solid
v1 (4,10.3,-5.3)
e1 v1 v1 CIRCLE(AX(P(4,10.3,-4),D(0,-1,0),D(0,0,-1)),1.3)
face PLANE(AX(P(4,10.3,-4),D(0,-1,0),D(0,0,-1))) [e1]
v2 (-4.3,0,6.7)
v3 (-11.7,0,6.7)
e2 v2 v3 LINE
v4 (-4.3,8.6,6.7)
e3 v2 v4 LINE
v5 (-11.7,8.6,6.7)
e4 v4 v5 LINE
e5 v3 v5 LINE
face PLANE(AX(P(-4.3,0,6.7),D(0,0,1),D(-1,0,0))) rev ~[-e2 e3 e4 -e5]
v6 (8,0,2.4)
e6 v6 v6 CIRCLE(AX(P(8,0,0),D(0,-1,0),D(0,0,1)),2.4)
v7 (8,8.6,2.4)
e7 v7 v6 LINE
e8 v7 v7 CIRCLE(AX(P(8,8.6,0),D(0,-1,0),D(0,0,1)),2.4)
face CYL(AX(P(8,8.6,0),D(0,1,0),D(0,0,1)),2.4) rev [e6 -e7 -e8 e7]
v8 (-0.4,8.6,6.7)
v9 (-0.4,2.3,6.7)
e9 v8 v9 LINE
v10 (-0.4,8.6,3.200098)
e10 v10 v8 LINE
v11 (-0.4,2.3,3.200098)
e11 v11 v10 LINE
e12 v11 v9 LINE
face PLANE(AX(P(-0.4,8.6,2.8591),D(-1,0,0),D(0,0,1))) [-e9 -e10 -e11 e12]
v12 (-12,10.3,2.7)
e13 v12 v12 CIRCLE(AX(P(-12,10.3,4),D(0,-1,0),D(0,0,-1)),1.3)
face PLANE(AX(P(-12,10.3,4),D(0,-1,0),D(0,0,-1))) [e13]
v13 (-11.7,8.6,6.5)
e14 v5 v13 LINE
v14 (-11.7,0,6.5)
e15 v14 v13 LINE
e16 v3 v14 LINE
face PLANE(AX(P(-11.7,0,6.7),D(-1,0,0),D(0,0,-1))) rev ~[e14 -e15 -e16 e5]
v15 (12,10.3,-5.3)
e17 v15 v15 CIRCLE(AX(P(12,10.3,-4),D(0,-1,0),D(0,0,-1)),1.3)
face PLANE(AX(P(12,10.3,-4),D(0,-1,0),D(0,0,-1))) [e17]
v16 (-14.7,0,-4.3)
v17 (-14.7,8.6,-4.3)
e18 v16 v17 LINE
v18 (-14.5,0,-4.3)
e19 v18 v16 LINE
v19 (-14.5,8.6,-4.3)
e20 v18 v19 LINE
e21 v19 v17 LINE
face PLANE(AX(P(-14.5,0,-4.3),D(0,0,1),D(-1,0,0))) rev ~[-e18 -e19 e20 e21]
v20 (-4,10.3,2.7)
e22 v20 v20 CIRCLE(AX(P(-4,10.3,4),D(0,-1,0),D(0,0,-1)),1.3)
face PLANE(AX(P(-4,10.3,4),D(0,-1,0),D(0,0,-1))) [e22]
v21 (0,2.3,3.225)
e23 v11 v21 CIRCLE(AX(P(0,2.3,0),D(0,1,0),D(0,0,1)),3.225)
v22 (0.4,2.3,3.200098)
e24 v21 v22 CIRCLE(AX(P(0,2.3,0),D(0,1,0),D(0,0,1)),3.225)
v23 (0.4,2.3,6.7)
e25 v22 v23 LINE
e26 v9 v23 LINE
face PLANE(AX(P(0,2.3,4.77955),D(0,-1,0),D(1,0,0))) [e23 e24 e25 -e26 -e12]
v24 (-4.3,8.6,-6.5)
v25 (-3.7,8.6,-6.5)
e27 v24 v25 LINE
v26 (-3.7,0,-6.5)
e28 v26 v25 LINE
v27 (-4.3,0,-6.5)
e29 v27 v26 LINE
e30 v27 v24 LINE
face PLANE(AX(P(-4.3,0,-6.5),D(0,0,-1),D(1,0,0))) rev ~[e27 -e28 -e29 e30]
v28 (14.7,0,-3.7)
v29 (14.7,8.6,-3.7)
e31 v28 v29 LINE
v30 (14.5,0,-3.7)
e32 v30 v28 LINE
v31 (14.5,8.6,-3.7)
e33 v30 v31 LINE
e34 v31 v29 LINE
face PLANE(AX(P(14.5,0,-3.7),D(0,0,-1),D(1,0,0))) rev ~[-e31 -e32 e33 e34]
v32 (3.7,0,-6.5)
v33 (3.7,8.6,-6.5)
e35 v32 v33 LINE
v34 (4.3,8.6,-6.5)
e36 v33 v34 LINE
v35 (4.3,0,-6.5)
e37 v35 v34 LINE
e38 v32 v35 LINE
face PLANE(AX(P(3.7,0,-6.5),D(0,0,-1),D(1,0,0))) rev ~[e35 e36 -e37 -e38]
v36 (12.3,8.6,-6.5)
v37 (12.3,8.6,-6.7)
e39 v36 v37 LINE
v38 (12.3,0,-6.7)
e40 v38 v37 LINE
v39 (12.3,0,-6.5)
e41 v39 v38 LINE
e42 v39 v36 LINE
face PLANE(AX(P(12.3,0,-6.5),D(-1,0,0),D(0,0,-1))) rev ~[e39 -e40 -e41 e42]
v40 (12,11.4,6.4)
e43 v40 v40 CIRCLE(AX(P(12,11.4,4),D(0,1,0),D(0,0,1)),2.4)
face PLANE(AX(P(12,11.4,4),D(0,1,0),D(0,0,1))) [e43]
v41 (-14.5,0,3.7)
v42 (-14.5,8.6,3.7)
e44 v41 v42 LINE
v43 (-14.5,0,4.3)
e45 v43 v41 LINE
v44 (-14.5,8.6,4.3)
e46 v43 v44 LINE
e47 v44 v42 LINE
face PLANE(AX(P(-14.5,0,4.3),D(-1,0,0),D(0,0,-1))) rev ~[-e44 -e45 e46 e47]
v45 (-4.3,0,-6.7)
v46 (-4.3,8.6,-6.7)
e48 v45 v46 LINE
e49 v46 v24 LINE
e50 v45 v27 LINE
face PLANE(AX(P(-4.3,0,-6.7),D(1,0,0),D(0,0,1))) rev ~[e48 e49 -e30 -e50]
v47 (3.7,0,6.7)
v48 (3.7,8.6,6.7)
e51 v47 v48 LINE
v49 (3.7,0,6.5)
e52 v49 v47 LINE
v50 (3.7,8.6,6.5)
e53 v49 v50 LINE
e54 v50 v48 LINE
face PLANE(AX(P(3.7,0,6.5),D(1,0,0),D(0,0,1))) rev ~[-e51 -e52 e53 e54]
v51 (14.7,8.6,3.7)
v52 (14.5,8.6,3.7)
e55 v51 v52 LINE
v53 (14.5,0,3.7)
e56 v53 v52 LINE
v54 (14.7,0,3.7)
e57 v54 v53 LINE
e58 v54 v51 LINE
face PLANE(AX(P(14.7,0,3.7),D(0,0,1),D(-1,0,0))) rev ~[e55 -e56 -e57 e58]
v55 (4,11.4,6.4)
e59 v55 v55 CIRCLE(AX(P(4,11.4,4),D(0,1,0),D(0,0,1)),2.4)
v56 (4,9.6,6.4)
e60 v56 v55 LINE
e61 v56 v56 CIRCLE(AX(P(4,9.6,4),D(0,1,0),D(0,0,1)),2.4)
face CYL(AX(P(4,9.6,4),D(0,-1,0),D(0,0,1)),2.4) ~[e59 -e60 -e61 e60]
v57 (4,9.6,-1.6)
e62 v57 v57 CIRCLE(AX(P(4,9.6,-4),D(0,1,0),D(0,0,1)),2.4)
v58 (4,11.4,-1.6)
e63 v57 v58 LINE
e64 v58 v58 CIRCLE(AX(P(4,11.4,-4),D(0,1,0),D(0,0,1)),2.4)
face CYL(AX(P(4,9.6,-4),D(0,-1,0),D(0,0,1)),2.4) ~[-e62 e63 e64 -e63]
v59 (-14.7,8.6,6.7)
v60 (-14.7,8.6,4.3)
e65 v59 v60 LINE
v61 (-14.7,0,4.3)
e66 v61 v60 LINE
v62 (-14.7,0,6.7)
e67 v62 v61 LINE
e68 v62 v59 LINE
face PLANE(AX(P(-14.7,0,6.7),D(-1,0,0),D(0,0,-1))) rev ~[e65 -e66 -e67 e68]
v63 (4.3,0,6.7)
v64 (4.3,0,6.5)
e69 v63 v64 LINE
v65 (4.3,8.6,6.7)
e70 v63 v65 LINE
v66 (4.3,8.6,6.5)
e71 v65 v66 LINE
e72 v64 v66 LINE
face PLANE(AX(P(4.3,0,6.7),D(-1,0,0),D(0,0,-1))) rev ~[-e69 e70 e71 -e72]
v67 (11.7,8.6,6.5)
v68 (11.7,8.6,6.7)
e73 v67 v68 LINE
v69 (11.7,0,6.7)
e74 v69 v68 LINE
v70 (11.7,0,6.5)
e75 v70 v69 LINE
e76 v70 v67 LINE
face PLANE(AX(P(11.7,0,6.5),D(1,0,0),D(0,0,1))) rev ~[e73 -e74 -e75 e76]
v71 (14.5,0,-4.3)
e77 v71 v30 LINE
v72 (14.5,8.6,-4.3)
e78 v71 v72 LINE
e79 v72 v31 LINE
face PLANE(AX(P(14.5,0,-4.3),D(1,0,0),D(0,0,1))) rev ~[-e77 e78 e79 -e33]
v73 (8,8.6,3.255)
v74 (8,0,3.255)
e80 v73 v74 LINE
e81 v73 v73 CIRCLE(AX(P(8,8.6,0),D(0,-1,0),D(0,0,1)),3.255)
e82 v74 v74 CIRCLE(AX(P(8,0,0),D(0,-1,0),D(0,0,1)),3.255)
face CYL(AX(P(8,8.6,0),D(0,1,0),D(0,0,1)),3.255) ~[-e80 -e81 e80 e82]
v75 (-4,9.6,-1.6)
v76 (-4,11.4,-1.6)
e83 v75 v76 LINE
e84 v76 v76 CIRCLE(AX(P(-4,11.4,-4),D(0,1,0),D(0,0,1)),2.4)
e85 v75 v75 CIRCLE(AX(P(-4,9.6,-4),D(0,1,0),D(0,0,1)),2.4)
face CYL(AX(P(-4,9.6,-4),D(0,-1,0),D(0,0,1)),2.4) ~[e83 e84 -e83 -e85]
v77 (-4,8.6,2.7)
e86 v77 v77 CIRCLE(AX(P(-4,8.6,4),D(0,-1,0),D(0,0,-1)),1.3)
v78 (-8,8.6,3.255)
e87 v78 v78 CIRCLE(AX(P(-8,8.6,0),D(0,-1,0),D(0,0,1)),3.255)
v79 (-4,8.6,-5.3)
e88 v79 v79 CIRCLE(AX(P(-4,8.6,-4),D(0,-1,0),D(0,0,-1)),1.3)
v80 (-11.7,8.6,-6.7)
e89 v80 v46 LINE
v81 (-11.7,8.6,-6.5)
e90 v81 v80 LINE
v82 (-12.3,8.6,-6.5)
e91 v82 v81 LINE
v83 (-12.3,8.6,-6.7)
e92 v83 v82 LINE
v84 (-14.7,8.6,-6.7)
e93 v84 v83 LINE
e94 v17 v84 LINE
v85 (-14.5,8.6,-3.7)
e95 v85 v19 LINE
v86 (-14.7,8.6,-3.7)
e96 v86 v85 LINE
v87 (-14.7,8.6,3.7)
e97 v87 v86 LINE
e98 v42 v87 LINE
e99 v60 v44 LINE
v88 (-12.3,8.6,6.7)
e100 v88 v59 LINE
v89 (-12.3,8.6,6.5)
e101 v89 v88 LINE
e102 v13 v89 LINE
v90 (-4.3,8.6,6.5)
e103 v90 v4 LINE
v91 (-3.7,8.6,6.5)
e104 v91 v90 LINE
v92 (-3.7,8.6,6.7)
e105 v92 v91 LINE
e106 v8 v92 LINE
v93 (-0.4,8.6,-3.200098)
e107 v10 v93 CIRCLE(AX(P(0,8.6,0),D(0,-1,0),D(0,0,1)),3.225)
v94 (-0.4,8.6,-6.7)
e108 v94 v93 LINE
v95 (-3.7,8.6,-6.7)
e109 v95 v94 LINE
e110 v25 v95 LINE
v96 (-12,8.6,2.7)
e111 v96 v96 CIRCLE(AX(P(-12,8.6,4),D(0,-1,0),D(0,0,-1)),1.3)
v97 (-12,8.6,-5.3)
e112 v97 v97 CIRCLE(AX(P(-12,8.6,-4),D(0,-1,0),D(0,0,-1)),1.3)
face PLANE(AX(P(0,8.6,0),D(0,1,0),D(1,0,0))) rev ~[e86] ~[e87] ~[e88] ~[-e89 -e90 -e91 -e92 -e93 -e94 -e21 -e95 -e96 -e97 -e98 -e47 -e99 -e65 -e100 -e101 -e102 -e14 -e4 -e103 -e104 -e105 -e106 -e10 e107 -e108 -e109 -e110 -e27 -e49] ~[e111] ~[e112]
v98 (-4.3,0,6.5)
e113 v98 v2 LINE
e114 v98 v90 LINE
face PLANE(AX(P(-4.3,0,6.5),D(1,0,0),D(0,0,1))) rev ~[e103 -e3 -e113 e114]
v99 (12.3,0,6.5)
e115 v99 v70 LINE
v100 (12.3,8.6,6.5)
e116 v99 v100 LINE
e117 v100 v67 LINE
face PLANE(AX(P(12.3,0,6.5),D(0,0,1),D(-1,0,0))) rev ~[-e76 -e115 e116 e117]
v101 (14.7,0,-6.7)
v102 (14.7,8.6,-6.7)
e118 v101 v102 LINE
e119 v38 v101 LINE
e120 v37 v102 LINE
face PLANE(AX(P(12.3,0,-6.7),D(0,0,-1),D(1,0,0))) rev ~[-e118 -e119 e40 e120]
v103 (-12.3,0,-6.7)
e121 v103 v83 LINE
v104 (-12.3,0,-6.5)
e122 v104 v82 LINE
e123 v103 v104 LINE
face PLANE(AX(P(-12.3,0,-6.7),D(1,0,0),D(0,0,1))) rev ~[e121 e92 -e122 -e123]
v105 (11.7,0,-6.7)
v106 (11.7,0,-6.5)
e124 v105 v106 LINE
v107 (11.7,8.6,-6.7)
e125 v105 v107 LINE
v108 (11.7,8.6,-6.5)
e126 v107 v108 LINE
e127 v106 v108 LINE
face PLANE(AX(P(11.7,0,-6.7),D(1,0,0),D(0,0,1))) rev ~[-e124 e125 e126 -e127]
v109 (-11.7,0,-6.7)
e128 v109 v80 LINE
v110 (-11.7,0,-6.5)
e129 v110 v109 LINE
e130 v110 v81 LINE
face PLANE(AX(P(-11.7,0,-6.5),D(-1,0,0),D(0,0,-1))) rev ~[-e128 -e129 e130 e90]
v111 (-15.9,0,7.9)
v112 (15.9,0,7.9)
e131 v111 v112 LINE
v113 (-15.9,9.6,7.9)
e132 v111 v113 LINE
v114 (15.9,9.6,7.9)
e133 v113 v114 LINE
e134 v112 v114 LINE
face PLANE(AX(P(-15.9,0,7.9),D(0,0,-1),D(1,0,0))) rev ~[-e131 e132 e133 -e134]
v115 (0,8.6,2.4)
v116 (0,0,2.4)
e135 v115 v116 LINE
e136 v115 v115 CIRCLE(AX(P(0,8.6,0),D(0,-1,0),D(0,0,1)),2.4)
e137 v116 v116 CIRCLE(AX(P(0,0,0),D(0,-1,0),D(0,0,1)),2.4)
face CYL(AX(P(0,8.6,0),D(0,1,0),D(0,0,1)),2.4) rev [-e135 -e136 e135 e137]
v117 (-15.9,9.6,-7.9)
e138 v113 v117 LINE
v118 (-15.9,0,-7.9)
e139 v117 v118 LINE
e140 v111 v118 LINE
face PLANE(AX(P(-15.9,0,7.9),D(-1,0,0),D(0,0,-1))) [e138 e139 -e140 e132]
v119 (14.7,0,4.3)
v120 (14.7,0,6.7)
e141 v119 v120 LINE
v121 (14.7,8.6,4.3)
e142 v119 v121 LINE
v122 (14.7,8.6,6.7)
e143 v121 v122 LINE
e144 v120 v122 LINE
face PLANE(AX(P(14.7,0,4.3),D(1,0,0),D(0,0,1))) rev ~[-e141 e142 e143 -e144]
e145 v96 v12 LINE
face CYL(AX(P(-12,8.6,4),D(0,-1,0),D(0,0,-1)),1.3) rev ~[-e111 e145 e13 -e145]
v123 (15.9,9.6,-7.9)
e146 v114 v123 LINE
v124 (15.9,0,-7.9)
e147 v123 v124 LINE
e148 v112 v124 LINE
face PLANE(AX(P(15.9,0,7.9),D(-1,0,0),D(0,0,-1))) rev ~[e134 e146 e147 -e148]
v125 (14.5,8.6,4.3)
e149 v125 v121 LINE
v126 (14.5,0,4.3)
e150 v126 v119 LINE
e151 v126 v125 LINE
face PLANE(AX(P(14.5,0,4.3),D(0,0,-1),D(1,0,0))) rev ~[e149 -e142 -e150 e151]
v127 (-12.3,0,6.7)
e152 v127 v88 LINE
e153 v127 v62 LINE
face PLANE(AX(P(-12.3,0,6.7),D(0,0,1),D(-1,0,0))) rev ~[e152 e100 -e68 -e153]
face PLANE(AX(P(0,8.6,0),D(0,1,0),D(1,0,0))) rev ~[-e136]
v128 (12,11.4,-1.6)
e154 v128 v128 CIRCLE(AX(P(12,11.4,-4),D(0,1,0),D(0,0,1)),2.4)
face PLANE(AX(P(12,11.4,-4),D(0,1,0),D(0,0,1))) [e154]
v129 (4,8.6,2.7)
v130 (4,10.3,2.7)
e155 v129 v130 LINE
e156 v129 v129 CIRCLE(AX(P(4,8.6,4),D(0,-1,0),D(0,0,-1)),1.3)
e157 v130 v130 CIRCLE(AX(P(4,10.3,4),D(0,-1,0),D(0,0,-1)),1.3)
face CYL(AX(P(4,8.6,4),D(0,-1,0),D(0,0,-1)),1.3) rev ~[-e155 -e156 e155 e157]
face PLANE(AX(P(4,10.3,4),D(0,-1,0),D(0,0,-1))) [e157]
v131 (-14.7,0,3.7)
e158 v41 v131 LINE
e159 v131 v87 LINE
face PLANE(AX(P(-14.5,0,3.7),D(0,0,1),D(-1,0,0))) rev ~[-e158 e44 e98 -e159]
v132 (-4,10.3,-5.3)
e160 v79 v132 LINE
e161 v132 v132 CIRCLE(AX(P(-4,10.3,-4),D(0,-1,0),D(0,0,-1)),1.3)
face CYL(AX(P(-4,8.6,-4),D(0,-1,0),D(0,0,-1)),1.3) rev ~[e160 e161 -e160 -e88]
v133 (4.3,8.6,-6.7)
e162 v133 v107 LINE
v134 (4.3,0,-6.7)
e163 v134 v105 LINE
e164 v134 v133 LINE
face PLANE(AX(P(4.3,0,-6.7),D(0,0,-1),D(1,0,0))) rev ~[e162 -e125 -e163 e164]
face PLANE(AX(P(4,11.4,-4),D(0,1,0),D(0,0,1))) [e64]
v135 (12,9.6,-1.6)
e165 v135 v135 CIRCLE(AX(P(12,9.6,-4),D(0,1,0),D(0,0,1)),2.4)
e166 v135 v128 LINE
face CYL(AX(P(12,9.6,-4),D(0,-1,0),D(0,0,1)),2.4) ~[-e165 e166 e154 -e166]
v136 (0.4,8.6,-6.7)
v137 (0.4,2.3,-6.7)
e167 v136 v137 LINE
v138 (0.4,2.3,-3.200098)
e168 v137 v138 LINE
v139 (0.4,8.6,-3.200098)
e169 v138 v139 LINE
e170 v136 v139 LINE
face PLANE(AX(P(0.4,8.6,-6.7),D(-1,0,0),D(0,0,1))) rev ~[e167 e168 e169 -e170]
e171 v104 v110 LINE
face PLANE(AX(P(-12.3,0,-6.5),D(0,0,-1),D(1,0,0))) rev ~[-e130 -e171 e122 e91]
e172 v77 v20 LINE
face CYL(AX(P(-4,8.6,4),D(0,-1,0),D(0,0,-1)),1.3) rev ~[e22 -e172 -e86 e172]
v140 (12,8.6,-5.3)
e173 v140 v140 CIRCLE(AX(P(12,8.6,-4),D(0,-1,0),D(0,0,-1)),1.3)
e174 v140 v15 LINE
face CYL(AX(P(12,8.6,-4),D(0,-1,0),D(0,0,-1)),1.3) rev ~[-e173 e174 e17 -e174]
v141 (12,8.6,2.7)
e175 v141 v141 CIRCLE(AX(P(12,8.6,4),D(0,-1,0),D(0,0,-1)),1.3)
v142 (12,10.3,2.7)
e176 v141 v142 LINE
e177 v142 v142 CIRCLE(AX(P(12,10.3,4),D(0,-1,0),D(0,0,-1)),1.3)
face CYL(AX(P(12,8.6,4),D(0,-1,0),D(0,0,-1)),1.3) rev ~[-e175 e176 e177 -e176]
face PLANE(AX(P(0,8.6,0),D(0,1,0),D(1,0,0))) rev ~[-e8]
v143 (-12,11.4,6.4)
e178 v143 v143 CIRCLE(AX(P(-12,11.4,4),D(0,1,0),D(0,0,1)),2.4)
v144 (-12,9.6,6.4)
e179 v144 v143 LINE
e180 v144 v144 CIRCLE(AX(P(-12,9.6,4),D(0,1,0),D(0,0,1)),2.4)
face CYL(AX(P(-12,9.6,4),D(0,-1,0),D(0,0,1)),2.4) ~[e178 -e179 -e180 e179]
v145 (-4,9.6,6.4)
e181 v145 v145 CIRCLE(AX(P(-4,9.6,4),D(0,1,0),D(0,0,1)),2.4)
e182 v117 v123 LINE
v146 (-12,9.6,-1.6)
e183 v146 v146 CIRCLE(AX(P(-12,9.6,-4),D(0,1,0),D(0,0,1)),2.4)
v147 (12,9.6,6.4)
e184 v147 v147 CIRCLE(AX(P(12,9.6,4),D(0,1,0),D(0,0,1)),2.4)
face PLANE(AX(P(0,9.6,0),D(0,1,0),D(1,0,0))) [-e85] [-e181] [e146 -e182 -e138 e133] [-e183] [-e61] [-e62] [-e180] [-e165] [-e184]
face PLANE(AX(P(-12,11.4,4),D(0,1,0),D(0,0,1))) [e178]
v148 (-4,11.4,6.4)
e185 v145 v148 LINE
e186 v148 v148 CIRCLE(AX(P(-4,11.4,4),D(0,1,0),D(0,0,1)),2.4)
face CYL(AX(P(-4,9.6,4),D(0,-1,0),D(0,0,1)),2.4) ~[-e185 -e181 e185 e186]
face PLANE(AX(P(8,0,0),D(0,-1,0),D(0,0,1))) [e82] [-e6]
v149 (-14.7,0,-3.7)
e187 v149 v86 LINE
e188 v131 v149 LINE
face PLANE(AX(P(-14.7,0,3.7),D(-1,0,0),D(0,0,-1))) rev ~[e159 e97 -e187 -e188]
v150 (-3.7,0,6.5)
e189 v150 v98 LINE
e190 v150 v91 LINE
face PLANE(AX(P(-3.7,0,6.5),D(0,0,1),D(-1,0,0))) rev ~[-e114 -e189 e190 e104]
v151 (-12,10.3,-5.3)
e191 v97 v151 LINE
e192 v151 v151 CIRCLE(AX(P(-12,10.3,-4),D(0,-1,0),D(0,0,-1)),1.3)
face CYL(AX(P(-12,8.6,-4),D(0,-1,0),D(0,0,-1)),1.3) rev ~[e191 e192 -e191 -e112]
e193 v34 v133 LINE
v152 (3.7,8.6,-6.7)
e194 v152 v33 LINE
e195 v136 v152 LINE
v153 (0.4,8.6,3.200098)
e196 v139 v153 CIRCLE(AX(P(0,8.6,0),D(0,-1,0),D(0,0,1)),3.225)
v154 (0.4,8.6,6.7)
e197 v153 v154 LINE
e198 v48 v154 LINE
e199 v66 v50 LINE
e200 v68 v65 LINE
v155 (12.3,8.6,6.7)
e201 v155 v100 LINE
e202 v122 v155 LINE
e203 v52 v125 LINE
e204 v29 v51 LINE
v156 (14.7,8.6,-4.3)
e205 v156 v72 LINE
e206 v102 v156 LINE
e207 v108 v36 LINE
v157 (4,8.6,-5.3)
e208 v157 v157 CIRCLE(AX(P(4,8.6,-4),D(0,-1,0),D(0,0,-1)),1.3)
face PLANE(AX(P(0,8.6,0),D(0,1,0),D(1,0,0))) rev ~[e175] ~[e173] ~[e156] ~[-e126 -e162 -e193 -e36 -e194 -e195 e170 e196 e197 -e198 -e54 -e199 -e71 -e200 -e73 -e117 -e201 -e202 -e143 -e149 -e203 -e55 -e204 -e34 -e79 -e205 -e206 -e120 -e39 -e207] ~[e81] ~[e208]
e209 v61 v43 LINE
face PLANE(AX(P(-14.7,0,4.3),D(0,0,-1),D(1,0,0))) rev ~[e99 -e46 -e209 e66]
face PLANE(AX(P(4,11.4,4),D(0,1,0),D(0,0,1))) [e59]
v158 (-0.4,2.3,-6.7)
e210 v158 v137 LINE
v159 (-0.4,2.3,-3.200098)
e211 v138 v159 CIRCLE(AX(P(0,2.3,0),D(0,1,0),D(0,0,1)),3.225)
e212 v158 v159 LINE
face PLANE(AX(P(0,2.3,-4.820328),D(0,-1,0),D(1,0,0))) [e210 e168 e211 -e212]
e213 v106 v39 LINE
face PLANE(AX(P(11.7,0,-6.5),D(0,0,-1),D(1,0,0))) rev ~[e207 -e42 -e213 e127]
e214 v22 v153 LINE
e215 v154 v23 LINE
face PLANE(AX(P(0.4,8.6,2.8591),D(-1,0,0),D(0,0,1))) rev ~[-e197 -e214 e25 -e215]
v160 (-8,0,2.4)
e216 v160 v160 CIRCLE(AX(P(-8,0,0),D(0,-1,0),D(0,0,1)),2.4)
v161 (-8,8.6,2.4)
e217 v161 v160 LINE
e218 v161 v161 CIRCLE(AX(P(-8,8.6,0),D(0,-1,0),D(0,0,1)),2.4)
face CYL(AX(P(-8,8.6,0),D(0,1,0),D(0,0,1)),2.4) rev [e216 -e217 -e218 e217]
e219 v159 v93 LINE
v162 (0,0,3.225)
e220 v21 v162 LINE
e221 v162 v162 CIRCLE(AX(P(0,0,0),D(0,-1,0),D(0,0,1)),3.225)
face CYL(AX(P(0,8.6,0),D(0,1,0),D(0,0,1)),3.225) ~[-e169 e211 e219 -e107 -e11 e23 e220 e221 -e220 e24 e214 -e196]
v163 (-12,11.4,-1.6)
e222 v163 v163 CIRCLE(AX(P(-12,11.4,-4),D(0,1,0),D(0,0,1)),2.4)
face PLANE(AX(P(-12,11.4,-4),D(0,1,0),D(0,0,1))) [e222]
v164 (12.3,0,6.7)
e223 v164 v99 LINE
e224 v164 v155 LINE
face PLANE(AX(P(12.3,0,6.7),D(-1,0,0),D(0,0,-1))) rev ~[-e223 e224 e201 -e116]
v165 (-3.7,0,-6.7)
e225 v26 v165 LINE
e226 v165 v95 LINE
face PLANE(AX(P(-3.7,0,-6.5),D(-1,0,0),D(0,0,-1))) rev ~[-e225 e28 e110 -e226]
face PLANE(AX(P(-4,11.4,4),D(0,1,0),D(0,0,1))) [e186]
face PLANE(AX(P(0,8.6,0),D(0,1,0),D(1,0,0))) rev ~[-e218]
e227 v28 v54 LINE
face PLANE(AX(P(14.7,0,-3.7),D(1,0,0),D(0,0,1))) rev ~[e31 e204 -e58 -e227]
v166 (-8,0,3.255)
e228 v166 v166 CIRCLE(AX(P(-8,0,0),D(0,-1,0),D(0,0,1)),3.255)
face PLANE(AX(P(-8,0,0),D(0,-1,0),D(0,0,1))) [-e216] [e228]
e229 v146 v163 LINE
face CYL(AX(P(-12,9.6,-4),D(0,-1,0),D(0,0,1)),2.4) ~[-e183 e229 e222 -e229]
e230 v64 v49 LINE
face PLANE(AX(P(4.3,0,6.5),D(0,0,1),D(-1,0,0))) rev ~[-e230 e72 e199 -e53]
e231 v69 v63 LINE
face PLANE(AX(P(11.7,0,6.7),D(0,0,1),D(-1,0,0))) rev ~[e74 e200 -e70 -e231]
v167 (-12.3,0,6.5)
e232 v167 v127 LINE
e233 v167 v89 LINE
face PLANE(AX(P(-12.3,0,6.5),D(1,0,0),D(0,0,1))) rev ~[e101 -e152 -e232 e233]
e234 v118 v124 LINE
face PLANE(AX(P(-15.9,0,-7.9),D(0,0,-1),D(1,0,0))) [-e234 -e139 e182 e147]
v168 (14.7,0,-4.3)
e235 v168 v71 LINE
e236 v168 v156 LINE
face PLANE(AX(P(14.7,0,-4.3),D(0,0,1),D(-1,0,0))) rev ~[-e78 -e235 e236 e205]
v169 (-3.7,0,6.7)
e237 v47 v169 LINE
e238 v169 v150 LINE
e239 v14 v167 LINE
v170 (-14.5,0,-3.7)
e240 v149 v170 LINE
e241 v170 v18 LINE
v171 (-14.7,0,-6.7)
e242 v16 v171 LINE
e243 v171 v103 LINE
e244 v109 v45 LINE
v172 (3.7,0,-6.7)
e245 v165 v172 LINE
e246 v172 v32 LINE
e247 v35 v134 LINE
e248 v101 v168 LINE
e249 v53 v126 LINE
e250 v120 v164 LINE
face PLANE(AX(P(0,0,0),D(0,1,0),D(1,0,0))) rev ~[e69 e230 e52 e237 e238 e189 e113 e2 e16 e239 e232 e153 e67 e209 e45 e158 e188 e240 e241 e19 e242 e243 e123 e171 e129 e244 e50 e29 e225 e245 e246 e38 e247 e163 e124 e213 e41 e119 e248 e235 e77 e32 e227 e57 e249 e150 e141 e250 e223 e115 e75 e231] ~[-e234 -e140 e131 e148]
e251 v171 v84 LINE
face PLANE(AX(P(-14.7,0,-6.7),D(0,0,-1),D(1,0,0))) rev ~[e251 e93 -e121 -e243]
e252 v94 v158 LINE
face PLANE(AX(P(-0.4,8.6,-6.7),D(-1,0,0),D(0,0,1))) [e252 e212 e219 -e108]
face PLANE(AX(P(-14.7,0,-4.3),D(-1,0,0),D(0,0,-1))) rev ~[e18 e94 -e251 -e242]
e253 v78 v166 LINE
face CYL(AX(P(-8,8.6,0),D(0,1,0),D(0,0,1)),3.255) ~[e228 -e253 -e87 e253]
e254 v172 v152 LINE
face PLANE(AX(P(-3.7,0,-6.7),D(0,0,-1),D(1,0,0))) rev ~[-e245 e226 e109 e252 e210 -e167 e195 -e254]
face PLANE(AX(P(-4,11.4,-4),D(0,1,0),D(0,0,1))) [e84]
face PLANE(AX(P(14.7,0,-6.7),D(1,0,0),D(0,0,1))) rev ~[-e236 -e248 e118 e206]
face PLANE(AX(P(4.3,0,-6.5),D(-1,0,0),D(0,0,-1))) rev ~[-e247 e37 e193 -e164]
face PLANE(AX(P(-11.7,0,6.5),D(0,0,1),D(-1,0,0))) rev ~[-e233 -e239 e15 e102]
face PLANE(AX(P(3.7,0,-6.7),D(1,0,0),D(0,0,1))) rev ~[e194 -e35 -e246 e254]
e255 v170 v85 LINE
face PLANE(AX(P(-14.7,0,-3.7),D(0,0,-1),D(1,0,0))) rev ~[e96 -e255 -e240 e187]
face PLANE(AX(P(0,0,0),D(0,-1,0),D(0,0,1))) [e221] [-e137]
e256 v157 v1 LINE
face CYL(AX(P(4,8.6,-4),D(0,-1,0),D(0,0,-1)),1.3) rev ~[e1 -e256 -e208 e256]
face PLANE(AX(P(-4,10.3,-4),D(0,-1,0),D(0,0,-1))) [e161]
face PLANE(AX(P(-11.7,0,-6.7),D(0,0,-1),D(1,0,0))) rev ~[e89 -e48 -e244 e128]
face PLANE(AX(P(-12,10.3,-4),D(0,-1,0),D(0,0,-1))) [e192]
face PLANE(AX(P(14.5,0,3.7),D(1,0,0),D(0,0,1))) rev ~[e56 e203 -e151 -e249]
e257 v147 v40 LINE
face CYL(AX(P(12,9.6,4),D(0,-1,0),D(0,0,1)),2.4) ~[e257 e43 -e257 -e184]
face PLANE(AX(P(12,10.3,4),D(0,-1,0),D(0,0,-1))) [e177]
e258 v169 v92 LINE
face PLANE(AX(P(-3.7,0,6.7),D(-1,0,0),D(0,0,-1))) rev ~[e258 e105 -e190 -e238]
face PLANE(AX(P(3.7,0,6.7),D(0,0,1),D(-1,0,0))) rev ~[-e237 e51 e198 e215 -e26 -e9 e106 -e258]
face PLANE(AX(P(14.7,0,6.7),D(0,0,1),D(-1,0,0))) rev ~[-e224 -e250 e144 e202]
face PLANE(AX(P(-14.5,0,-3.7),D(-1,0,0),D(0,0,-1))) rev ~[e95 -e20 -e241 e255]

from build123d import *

# Parameters (mm, degrees)
SKETCH1_W           = 31.8
SKETCH1_H           = 15.8
BOSS_EXTRUDE1_DEPTH = 9.6
SKETCH3_W           = 31.8
SKETCH3_H           = 15.8
BOSS_EXTRUDE2_DEPTH = 1
SKETCH4_R           = 2.4
BOSS_EXTRUDE3_DEPTH = 1.8
SKETCH5_R           = 1.3
CUT_EXTRUDE1_DEPTH  = 1.7
SKETCH6_R           = 3.255
SKETCH6_R_2         = 2.4
SKETCH6_R_3         = 3.225
BOSS_EXTRUDE4_DEPTH = 8.6
SKETCH7_W           = 0.8
SKETCH7_H           = 3.759344576
SKETCH7_H_2         = 3.840900034
BOSS_EXTRUDE5_DEPTH = 6.3


with BuildPart() as part:
    # Sketch1 → Boss-Extrude1 (new body)
    with BuildSketch(Plane(origin=(0, 0, 0), x_dir=(1, 0, 0), z_dir=(0, 1, 0))):
        Rectangle(SKETCH1_W, SKETCH1_H)
        Polygon((-12.3, -6.7), (-14.7, -6.7), (-14.7, -4.3), (-14.5, -4.3), (-14.5, -3.7), (-14.7, -3.7), (-14.7, 3.7), (-14.5, 3.7), (-14.5, 4.3), (-14.7, 4.3), (-14.7, 6.7), (-12.3, 6.7), (-12.3, 6.5), (-11.7, 6.5), (-11.7, 6.7), (-4.3, 6.7), (-4.3, 6.5), (-3.7, 6.5), (-3.7, 6.7), (3.7, 6.7), (3.7, 6.5), (4.3, 6.5), (4.3, 6.7), (11.7, 6.7), (11.7, 6.5), (12.3, 6.5), (12.3, 6.7), (14.7, 6.7), (14.7, 4.3), (14.5, 4.3), (14.5, 3.7), (14.7, 3.7), (14.7, -3.7), (14.5, -3.7), (14.5, -4.3), (14.7, -4.3), (14.7, -6.7), (12.3, -6.7), (12.3, -6.5), (11.7, -6.5), (11.7, -6.7), (4.3, -6.7), (4.3, -6.5), (3.7, -6.5), (3.7, -6.7), (-3.7, -6.7), (-3.7, -6.5), (-4.3, -6.5), (-4.3, -6.7), (-11.7, -6.7), (-11.7, -6.5), (-12.3, -6.5), align=None, mode=Mode.SUBTRACT)
    extrude(amount=BOSS_EXTRUDE1_DEPTH)

    # Sketch3 → Boss-Extrude2 (add)
    with BuildSketch(Plane(origin=(0, 9.6, 0), x_dir=(1, 0, 0), z_dir=(0, 1, 0))):
        Rectangle(SKETCH3_W, SKETCH3_H)
    extrude(amount=-BOSS_EXTRUDE2_DEPTH)

    # Sketch4 → Boss-Extrude3 (add)
    with BuildSketch(Plane(origin=(0, 9.6, 0), x_dir=(1, 0, 0), z_dir=(0, 1, 0))):
        with Locations(Location((-12, 4, 0), (0, 0, 270))):
            Circle(SKETCH4_R)
        with Locations(Location((-4, 4, 0), (0, 0, 270))):
            Circle(SKETCH4_R)
        with Locations(Location((4, 4, 0), (0, 0, 270))):
            Circle(SKETCH4_R)
        with Locations(Location((12, 4, 0), (0, 0, 270))):
            Circle(SKETCH4_R)
        with Locations(Location((-12, -4, 0), (0, 0, 270))):
            Circle(SKETCH4_R)
        with Locations(Location((-4, -4, 0), (0, 0, 270))):
            Circle(SKETCH4_R)
        with Locations(Location((4, -4, 0), (0, 0, 270))):
            Circle(SKETCH4_R)
        with Locations(Location((12, -4, 0), (0, 0, 270))):
            Circle(SKETCH4_R)
    extrude(amount=BOSS_EXTRUDE3_DEPTH)

    # Sketch5 → Cut-Extrude1 (cut)
    with BuildSketch(Plane.XZ.offset(-8.6)):
        with Locations(Location((12, -4, 0), (0, 0, 270))):
            Circle(SKETCH5_R)
        with Locations(Location((12, 4, 0), (0, 0, 270))):
            Circle(SKETCH5_R)
        with Locations(Location((4, -4, 0), (0, 0, 270))):
            Circle(SKETCH5_R)
        with Locations(Location((4, 4, 0), (0, 0, 270))):
            Circle(SKETCH5_R)
        with Locations(Location((-4, 4, 0), (0, 0, 270))):
            Circle(SKETCH5_R)
        with Locations(Location((-4, -4, 0), (0, 0, 270))):
            Circle(SKETCH5_R)
        with Locations(Location((-12, -4, 0), (0, 0, 270))):
            Circle(SKETCH5_R)
        with Locations(Location((-12, 4, 0), (0, 0, 270))):
            Circle(SKETCH5_R)
    extrude(amount=-CUT_EXTRUDE1_DEPTH, mode=Mode.SUBTRACT)

    # Sketch6 → Boss-Extrude4 (add)
    # profile 1 of 3: a face of its own
    with BuildSketch(Plane.XZ.offset(-8.6)):
        with Locations(Location((8, 0, 0), (0, 0, 90))):
            Circle(SKETCH6_R)
        with Locations(Location((8, 0, 0), (0, 0, 90))):
            Circle(SKETCH6_R_2, mode=Mode.SUBTRACT)
    # profile 2 of 3: a face of its own
    with BuildSketch(Plane.XZ.offset(-8.6)):
        with Locations(Location((-8, 0, 0), (0, 0, 90))):
            Circle(SKETCH6_R)
        with Locations(Location((-8, 0, 0), (0, 0, 90))):
            Circle(SKETCH6_R_2, mode=Mode.SUBTRACT)
    # profile 3 of 3: a face of its own
    with BuildSketch(Plane.XZ.offset(-8.6)):
        with Locations(Location((0, 0, 0), (0, 0, 90))):
            Circle(SKETCH6_R_3)
        with Locations(Location((0, 0, 0), (0, 0, 90))):
            Circle(SKETCH6_R_2, mode=Mode.SUBTRACT)
    extrude(amount=BOSS_EXTRUDE4_DEPTH)

    # Sketch7 → Boss-Extrude5 (add)
    with BuildSketch(Plane.XZ.offset(-8.6)):
        with Locations((0, -4.820327712)):
            Rectangle(SKETCH7_W, SKETCH7_H)
        with Locations((0, 4.779549983)):
            Rectangle(SKETCH7_W, SKETCH7_H_2)
    extrude(amount=BOSS_EXTRUDE5_DEPTH)


solid = part.part
